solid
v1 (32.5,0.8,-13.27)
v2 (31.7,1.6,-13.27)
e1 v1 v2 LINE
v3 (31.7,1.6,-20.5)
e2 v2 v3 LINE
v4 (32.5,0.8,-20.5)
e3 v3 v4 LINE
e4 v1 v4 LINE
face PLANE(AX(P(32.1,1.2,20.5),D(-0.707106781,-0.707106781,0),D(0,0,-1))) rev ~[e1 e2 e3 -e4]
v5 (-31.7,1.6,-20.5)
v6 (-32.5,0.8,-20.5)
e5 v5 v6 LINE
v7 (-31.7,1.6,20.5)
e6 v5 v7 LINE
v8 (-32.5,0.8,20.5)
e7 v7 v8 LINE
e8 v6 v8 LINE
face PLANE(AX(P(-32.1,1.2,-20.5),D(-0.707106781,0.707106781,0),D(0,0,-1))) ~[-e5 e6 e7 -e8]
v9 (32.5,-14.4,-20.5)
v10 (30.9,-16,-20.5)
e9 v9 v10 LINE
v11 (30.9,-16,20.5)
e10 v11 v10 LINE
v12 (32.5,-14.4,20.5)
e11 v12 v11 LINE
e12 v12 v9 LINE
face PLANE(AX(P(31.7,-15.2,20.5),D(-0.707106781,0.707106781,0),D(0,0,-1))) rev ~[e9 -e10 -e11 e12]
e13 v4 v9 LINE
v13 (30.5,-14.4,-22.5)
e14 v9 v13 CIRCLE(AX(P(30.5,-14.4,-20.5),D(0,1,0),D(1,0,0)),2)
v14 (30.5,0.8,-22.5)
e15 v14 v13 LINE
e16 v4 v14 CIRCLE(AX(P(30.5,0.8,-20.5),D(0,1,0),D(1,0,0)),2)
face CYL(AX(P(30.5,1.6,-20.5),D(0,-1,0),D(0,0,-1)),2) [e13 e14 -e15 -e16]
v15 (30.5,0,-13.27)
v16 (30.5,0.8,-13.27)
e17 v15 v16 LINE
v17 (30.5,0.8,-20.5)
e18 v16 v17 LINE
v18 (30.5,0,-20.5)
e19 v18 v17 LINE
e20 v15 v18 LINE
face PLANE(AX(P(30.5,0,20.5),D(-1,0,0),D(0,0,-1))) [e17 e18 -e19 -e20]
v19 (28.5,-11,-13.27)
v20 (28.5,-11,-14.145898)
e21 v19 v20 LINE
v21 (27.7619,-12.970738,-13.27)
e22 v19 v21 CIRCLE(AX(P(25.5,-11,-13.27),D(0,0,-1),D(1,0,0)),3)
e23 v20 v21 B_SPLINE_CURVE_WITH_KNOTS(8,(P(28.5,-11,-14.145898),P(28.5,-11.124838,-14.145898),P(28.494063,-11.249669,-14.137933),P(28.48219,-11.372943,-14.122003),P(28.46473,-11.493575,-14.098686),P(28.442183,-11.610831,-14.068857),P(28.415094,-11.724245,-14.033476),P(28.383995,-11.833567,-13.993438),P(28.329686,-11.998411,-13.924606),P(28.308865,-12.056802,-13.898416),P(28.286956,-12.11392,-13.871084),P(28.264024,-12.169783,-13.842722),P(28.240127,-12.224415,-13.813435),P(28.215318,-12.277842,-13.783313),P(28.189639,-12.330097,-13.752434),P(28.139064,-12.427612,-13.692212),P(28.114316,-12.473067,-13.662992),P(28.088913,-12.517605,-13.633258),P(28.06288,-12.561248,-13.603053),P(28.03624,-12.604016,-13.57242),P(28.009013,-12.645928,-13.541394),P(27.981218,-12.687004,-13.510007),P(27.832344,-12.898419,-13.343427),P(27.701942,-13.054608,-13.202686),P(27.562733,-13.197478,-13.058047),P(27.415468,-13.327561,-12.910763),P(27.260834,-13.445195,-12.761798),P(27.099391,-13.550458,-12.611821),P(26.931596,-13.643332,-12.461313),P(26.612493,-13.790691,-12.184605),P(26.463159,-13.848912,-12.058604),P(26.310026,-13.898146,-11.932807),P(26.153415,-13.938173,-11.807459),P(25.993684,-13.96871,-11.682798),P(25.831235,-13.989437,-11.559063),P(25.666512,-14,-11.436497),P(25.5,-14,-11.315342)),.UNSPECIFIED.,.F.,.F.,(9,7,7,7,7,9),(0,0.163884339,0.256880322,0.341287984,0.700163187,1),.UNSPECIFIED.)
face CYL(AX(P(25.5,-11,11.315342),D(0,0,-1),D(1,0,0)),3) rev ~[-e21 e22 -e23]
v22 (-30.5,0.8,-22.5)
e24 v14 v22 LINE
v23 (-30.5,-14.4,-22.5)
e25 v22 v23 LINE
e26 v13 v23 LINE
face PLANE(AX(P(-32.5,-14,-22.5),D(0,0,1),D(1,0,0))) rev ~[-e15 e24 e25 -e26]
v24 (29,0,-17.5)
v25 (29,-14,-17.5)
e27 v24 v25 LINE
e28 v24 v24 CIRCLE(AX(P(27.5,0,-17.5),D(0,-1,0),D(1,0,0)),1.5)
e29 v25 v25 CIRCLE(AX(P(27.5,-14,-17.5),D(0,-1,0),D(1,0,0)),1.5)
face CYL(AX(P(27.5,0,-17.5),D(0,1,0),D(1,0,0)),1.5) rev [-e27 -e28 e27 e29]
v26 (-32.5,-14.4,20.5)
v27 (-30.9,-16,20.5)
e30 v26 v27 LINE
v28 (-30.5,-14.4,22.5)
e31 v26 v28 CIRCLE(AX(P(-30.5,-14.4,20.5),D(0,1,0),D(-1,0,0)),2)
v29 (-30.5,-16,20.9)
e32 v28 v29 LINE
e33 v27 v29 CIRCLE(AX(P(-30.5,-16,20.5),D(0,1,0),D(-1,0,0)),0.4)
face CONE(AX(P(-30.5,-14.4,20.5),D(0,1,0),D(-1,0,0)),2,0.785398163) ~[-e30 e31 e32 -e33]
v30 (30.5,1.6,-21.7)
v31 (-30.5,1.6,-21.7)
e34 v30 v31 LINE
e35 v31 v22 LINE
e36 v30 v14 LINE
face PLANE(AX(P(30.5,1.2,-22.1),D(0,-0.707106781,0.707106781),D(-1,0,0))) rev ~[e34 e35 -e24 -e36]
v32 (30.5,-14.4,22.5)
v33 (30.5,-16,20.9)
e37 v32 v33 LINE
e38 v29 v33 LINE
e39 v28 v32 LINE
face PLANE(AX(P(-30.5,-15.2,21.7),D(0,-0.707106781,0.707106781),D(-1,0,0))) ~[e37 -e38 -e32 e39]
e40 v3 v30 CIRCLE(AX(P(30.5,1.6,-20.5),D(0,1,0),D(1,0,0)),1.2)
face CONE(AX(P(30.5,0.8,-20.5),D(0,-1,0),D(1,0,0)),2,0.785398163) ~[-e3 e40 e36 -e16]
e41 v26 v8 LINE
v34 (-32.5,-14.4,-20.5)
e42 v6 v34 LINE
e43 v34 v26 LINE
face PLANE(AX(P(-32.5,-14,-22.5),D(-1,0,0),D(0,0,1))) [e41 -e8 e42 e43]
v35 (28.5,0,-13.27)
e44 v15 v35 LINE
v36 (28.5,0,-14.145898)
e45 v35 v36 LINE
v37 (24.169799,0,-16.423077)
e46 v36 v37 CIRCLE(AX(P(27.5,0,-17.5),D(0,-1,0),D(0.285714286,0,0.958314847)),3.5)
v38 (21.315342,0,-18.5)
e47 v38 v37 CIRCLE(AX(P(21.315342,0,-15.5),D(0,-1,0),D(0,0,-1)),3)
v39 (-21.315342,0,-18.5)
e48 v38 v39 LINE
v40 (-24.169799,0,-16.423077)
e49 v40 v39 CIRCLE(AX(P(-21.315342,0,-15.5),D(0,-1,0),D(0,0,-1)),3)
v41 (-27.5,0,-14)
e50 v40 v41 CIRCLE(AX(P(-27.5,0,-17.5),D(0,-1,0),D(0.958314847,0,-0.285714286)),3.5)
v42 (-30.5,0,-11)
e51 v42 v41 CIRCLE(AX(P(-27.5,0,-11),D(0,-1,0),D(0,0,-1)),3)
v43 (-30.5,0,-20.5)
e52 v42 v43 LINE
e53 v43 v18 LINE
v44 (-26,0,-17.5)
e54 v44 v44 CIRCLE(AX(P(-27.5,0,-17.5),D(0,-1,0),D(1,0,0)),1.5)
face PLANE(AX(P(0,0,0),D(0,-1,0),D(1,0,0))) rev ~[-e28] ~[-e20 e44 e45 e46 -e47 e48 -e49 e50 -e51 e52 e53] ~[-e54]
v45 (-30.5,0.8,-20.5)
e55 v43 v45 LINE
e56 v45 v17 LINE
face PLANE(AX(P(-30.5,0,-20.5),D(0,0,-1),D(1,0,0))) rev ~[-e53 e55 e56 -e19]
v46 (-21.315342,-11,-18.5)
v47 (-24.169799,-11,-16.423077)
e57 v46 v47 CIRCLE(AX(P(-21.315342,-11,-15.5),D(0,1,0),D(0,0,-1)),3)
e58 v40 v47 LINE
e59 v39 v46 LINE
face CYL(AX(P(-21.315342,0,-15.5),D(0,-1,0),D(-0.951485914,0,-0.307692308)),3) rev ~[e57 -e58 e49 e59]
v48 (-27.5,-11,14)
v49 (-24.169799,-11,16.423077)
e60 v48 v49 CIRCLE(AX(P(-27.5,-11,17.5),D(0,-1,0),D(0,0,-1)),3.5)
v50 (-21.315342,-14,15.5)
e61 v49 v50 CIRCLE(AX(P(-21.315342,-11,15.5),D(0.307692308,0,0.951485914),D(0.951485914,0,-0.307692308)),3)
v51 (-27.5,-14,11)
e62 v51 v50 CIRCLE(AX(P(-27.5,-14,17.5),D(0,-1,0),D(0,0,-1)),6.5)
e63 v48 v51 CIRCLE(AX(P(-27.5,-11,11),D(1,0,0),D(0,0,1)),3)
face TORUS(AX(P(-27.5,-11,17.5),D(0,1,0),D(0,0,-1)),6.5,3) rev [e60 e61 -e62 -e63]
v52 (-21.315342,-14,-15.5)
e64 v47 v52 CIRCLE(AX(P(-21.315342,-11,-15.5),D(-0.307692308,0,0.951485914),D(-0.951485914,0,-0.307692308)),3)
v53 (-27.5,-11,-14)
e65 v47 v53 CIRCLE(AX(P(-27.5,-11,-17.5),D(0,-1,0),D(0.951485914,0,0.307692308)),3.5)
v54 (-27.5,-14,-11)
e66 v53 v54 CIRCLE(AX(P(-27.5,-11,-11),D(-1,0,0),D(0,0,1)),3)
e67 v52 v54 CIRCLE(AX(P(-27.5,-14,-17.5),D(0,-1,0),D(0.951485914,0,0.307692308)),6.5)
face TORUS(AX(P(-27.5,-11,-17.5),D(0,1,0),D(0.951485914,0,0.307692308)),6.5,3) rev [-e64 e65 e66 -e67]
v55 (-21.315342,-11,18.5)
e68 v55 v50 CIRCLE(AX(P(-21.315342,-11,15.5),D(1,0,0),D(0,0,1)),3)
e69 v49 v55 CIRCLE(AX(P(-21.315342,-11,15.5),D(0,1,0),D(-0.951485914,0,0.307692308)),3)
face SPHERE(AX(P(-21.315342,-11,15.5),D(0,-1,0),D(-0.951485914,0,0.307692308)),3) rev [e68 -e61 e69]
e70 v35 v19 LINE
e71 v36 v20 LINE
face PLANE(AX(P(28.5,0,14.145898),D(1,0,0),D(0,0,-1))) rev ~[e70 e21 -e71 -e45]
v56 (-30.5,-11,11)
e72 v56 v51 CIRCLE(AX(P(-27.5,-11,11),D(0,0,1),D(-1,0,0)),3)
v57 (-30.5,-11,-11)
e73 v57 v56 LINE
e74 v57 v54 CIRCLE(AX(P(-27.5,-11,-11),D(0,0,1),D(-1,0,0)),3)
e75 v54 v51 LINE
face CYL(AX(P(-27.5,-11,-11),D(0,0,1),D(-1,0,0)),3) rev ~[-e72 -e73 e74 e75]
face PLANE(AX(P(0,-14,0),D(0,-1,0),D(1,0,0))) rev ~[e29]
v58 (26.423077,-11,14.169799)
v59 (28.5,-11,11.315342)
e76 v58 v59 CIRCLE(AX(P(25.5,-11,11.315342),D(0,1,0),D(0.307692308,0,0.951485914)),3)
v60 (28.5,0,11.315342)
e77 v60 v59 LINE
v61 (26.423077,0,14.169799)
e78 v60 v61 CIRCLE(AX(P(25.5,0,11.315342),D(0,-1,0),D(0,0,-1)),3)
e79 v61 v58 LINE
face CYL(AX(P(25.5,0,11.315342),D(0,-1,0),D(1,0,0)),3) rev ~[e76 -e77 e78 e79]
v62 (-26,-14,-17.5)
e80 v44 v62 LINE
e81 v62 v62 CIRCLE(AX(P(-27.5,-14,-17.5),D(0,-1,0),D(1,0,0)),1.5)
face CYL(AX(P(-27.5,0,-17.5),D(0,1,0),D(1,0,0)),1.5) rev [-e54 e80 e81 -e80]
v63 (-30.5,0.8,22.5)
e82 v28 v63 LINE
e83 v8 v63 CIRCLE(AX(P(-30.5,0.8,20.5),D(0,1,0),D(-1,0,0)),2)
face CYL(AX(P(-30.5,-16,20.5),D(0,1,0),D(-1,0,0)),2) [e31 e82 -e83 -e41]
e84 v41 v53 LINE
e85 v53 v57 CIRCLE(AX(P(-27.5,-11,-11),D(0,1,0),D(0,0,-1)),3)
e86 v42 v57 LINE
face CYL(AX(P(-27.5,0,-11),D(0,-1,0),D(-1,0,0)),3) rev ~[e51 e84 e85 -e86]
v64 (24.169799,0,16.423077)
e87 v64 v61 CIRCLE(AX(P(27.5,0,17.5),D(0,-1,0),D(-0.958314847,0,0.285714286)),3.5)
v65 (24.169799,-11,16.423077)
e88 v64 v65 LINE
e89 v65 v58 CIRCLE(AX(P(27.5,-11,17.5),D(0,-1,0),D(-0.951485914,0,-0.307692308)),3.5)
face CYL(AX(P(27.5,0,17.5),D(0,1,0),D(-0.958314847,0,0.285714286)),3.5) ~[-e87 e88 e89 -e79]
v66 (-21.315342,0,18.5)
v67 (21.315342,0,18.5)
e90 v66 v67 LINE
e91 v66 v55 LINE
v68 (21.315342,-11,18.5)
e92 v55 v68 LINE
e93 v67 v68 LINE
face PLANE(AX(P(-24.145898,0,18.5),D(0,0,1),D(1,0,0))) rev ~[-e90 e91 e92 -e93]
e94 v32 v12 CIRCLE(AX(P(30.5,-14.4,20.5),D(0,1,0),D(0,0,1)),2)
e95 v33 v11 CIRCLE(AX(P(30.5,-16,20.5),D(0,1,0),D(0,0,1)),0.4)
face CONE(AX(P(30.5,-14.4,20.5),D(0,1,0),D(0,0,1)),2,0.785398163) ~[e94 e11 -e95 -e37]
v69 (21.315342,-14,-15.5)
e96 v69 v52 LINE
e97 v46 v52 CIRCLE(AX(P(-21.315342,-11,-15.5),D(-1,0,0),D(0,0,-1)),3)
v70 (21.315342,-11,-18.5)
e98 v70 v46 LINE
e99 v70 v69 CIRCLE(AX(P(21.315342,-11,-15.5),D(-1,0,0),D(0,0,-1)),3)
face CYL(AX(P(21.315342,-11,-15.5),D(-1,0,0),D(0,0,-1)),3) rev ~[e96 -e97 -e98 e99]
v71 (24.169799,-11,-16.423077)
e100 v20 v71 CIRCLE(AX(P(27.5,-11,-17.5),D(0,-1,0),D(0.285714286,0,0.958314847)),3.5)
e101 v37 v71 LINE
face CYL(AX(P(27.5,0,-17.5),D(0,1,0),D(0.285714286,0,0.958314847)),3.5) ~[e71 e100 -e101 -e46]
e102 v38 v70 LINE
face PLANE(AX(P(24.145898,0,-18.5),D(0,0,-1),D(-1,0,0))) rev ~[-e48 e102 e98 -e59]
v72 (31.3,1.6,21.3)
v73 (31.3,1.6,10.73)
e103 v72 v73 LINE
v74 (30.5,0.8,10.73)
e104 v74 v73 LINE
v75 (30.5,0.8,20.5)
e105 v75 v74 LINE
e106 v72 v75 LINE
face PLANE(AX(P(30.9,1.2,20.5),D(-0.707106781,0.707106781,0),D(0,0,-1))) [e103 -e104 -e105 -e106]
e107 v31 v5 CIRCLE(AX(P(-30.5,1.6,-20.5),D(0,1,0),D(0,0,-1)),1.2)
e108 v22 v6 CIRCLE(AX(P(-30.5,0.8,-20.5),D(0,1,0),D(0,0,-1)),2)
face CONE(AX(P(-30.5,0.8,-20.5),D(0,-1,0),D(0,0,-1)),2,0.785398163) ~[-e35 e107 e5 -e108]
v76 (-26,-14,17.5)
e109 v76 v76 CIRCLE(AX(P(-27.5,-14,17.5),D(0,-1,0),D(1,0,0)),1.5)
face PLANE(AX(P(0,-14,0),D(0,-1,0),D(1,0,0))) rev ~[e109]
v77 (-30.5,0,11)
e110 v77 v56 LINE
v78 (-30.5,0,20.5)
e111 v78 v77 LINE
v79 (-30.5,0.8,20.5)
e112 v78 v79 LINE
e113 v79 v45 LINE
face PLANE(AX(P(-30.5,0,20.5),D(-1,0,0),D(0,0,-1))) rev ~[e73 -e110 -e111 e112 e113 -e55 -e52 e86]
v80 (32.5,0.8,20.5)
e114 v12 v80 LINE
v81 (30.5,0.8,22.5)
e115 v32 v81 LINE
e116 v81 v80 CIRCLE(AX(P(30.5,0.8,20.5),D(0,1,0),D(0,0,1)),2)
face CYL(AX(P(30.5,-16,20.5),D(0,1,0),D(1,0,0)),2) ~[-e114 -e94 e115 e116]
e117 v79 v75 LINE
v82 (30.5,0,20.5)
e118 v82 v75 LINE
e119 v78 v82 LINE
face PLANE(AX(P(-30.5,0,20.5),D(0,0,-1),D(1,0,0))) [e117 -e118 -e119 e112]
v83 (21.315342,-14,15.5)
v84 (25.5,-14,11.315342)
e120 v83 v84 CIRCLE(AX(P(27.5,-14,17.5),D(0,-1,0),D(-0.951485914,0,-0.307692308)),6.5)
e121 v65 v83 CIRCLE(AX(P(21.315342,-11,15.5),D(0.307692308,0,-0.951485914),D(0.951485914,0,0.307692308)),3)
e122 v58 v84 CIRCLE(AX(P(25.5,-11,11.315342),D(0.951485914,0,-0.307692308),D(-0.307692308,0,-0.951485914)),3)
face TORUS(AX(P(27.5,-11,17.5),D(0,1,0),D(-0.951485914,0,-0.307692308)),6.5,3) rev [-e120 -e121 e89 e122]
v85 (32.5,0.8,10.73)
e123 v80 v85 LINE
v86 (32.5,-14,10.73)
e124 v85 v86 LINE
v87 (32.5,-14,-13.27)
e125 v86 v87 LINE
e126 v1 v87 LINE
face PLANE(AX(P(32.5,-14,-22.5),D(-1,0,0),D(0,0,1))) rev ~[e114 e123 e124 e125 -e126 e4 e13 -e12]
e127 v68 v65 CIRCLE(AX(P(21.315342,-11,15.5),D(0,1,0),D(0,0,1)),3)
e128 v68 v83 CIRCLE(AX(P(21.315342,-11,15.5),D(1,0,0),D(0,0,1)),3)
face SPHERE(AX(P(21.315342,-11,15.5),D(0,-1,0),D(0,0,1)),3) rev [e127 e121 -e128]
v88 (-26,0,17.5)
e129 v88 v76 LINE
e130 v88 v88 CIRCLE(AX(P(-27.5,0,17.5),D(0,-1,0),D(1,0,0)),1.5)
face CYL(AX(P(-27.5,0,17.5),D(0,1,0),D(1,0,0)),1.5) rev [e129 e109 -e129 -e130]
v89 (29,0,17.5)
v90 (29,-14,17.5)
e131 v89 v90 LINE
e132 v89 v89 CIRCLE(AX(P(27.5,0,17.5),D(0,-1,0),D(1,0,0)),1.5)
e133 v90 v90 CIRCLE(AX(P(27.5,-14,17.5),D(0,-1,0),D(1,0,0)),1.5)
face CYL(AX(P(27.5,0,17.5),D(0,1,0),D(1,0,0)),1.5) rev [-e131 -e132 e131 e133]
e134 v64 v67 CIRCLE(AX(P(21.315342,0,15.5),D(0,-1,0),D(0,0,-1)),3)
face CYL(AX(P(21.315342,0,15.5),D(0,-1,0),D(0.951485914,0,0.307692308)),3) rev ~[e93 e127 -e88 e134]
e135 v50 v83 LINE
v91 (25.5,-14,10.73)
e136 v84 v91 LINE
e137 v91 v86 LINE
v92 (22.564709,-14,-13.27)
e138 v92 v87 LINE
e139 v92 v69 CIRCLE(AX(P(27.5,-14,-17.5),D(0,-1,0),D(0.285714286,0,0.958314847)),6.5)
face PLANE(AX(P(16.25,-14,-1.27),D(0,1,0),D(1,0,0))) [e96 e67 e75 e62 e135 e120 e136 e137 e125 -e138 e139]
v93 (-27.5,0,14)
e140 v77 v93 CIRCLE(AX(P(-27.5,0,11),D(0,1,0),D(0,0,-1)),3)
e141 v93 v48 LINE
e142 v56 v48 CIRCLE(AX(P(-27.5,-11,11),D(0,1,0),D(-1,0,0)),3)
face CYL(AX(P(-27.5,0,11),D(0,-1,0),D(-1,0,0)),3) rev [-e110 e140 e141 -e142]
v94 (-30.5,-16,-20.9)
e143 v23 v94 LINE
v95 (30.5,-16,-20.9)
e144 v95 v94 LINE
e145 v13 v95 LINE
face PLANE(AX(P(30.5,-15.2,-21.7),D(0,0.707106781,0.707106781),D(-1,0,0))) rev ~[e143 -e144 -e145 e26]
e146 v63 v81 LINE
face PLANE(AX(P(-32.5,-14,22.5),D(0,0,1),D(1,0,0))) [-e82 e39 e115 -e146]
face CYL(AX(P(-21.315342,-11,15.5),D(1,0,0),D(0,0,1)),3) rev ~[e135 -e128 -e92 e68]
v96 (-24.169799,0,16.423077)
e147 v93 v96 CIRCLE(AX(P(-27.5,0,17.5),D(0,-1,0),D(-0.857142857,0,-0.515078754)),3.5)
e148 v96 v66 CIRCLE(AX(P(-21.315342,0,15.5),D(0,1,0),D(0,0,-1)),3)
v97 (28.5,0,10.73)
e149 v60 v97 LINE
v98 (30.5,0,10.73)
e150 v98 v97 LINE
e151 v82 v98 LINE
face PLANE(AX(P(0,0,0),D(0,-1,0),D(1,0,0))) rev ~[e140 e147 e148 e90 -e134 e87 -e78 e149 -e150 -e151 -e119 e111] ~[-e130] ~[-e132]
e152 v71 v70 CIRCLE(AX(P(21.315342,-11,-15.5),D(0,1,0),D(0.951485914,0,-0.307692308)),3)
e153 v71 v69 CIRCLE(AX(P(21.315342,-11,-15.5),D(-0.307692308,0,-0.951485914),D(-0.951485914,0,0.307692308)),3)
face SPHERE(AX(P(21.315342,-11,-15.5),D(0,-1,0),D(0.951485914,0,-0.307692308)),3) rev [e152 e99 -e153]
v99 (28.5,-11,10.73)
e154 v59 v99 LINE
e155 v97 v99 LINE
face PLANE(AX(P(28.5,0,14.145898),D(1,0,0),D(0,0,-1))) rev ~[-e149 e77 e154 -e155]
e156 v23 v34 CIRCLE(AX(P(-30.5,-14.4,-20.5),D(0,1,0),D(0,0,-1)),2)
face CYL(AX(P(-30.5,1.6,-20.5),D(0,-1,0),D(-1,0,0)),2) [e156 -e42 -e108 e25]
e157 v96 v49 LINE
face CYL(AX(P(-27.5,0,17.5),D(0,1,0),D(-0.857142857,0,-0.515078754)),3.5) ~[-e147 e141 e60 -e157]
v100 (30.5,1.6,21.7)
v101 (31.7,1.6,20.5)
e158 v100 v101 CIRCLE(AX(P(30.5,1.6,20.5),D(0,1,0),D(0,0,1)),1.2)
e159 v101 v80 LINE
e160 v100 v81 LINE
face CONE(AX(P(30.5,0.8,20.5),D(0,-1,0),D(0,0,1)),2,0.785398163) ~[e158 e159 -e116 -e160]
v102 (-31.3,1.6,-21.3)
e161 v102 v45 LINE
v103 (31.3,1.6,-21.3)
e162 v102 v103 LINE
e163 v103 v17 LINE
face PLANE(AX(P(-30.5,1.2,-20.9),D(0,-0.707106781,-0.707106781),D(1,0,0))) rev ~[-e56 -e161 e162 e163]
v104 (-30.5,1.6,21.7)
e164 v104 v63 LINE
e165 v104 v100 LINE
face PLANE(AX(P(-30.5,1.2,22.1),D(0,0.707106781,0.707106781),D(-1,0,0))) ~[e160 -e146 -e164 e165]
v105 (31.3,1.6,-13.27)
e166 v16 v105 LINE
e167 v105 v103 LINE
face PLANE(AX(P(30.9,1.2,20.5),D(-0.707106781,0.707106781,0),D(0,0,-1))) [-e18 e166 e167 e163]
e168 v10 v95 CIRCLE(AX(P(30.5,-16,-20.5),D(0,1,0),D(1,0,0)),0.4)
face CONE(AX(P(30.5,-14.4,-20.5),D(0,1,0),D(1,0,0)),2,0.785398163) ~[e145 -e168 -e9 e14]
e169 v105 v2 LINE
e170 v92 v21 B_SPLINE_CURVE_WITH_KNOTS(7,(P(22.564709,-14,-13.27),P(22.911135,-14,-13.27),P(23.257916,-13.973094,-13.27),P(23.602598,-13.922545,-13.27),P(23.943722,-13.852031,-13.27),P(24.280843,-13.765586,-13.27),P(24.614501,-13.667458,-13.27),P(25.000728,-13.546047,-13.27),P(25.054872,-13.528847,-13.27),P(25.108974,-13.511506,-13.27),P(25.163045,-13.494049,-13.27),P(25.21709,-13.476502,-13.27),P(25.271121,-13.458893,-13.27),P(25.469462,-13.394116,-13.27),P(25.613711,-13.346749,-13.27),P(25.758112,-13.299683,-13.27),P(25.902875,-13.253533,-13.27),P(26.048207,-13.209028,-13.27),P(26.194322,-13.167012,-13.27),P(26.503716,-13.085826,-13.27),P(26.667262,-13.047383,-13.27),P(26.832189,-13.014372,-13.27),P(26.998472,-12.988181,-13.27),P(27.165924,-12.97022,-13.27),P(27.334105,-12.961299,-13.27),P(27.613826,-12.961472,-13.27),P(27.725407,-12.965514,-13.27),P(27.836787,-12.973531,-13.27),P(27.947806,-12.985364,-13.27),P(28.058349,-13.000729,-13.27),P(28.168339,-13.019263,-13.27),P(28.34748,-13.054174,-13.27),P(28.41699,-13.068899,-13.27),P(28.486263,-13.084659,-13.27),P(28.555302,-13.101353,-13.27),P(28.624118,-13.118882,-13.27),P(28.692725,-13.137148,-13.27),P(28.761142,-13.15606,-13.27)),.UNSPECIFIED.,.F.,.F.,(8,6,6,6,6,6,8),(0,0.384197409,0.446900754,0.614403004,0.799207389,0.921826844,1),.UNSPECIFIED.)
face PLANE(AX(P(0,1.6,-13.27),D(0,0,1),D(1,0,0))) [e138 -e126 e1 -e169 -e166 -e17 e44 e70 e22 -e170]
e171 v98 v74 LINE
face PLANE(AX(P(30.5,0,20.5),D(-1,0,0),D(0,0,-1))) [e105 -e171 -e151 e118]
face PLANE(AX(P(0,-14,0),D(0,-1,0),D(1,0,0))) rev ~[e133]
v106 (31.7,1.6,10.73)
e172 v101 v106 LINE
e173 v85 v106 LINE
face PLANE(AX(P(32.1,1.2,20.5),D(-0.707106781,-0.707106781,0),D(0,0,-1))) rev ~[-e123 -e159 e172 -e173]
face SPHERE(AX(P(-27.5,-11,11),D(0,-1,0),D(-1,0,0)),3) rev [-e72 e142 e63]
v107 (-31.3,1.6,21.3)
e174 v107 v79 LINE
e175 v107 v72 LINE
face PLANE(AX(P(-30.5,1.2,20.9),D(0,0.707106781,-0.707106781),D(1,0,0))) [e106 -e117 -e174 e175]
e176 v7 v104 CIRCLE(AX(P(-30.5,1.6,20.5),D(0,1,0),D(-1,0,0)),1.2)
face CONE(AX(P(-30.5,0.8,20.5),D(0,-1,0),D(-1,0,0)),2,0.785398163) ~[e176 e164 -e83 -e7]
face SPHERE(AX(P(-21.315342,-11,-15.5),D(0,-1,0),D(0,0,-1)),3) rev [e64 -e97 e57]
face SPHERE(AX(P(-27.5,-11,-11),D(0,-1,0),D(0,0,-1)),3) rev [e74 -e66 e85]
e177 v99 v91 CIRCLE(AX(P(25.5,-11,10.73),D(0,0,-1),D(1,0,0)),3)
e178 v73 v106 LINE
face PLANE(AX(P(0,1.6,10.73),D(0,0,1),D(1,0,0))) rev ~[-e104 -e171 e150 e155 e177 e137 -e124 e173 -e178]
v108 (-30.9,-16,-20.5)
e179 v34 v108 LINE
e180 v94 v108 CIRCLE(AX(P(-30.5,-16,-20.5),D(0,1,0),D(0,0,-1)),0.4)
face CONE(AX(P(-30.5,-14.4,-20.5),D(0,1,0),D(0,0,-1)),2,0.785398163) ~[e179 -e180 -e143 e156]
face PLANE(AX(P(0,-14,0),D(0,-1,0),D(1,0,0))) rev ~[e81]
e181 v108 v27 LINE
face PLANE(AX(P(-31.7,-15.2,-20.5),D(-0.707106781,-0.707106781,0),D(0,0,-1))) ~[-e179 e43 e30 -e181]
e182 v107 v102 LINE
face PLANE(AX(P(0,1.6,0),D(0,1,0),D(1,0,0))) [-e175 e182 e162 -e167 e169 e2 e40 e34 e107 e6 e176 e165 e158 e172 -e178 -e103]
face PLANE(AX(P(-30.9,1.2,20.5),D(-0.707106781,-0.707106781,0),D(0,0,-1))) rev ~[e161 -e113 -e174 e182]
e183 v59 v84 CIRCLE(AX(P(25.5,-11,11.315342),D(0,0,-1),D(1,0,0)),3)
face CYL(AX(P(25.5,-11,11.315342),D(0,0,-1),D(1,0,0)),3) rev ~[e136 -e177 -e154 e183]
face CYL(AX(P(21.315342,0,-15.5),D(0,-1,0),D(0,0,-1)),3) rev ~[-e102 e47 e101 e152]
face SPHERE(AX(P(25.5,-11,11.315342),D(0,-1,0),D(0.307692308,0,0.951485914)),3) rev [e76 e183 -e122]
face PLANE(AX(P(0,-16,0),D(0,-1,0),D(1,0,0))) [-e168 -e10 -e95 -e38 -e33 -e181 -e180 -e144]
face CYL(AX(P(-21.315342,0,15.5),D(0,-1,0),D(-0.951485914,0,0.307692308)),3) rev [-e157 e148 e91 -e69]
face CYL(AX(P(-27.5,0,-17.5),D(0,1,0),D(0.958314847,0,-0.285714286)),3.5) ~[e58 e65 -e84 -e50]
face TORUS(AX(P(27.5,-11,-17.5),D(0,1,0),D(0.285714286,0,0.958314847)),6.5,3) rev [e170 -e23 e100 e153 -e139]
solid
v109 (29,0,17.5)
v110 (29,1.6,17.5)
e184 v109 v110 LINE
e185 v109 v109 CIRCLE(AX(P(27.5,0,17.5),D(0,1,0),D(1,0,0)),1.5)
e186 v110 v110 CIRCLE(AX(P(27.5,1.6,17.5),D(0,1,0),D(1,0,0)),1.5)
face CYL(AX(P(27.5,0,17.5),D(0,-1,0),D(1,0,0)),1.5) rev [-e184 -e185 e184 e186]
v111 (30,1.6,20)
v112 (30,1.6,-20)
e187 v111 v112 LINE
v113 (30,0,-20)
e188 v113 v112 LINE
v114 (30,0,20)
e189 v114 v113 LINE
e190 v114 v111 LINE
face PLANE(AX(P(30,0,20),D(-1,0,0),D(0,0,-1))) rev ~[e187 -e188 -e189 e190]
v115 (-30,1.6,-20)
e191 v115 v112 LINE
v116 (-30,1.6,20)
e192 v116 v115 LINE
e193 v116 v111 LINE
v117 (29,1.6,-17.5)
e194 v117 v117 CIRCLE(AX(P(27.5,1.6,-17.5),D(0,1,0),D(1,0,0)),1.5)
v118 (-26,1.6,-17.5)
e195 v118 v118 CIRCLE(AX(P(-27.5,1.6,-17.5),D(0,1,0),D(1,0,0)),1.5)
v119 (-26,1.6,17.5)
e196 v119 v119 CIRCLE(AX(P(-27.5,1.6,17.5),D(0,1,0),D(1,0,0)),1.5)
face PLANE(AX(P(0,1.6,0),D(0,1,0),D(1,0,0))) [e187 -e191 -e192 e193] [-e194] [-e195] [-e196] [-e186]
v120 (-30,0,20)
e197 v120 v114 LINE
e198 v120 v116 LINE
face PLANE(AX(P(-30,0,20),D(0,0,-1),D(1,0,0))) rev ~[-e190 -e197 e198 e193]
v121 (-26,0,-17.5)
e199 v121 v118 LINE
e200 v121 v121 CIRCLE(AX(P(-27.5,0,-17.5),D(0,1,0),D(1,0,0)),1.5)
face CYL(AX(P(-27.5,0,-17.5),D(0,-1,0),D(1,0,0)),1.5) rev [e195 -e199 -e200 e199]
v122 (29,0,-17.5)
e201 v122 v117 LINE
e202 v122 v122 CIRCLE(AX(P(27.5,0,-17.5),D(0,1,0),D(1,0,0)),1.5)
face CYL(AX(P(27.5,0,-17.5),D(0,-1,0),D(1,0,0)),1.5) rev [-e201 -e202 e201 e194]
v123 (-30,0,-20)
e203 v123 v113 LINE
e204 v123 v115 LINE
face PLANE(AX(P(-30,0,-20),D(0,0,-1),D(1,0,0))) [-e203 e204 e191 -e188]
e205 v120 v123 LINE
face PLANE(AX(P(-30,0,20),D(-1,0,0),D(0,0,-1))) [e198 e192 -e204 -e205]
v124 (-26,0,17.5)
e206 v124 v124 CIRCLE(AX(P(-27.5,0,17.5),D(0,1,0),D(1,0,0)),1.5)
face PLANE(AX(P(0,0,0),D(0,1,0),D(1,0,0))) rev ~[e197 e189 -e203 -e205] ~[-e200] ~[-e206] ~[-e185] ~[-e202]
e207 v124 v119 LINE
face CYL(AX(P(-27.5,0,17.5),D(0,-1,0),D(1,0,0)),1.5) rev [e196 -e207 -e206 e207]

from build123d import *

# Parameters (mm, degrees)
SKETCH1_W           = 60
SKETCH1_H           = 40
SKETCH1_R           = 1.5
BOSS_EXTRUDE1_DEPTH = 1.6
SKETCH2_W           = 65
SKETCH2_H           = 45
SKETCH2_R           = 1.5
BOSS_EXTRUDE2_DEPTH = 14
SKETCH3_W           = 65
SKETCH3_H           = 45
SKETCH3_W_2         = 61
SKETCH3_H_2         = 41
BOSS_EXTRUDE3_DEPTH = 1.6
SKETCH4_W           = 65
SKETCH4_H           = 45
BOSS_EXTRUDE4_DEPTH = 2
FILLET3_R           = 2
FILLET1_R           = 3
FILLET2_R           = 3
CHAMFER1_SIZE       = 1.6
CHAMFER2_SIZE       = 0.8
SKETCH5_W           = 32.5
SKETCH5_H           = 24
CUT_EXTRUDE1_DEPTH  = 15.6


with BuildPart() as part:
    # Sketch1 → Boss-Extrude1 (new body)
    with BuildSketch(Plane(origin=(0, 0, 0), x_dir=(1, 0, 0), z_dir=(0, 1, 0))):
        Rectangle(SKETCH1_W, SKETCH1_H)
        with Locations((27.5, 17.5)):
            Circle(SKETCH1_R, mode=Mode.SUBTRACT)
        with Locations((-27.5, 17.5)):
            Circle(SKETCH1_R, mode=Mode.SUBTRACT)
        with Locations((-27.5, -17.5)):
            Circle(SKETCH1_R, mode=Mode.SUBTRACT)
        with Locations((27.5, -17.5)):
            Circle(SKETCH1_R, mode=Mode.SUBTRACT)
    extrude(amount=BOSS_EXTRUDE1_DEPTH)


with BuildPart() as body_2:
    # Sketch2 → Boss-Extrude2 (new body)
    with BuildSketch(Plane.XZ):
        Rectangle(SKETCH2_W, SKETCH2_H)
        with Locations((-27.5, 17.5)):
            Circle(SKETCH2_R, mode=Mode.SUBTRACT)
        with Locations((27.5, 17.5)):
            Circle(SKETCH2_R, mode=Mode.SUBTRACT)
        with Locations((27.5, -17.5)):
            Circle(SKETCH2_R, mode=Mode.SUBTRACT)
        with Locations((-27.5, -17.5)):
            Circle(SKETCH2_R, mode=Mode.SUBTRACT)
        with BuildLine():
            Line((-24.145898034, 18.5), (24.145898034, 18.5))
            ThreePointArc((24.145898034, 18.5), (25.025126266, 15.025126266), (28.5, 14.145898034))
            Line((28.5, 14.145898034), (28.5, -14.145898034))
            ThreePointArc((28.5, -14.145898034), (25.025126266, -15.025126266), (24.145898034, -18.5))
            Line((24.145898034, -18.5), (-24.145898034, -18.5))
            ThreePointArc((-24.145898034, -18.5), (-26.08747217, -14.297693779), (-30.5, -15.697224362))
            Line((-30.5, -15.697224362), (-30.5, 15.697224362))
            ThreePointArc((-30.5, 15.697224362), (-26.08747217, 14.297693779), (-24.145898034, 18.5))
        make_face(mode=Mode.SUBTRACT)
    extrude(amount=BOSS_EXTRUDE2_DEPTH)

    # Sketch3 → Boss-Extrude3 (add)
    with BuildSketch(Plane(origin=(0, 0, 0), x_dir=(1, 0, 0), z_dir=(0, 1, 0))):
        Rectangle(SKETCH3_W, SKETCH3_H)
        Rectangle(SKETCH3_W_2, SKETCH3_H_2, mode=Mode.SUBTRACT)
    extrude(amount=BOSS_EXTRUDE3_DEPTH)

    # Sketch4 → Boss-Extrude4 (add)
    with BuildSketch(Plane.XZ.offset(14)):
        Rectangle(SKETCH4_W, SKETCH4_H)
    extrude(amount=BOSS_EXTRUDE4_DEPTH)

    # Fillet3
    fillet3_edges = [body_2.edges().sort_by_distance(p)[0] for p in [
        (-32.5, -7.2, -22.5),
        (-32.5, -7.2, 22.5),
        (32.5, -7.2, 22.5),
        (32.5, -7.2, -22.5),
    ]]
    fillet(fillet3_edges, radius=FILLET3_R)

    # Fillet1
    fillet1_edges = [body_2.edges().sort_by_distance(p)[0] for p in [
        (-24.145898034, -7, 18.5),
        (-30.5, -7, 15.697224362),
        (-30.5, -7, -15.697224362),
        (-24.145898034, -7, -18.5),
        (24.145898034, -7, -18.5),
        (28.5, -7, 14.145898034),
        (24.145898034, -7, 18.5),
    ]]
    fillet(fillet1_edges, radius=FILLET1_R)

    # Fillet2
    fillet2_edges = [body_2.edges().sort_by_distance(p)[0] for p in [
        (0, -14, -18.5),
        (25.870937464, -14, -14.402233828),
        (-30.5, -14, 0),
        (-25.440780581, -14, 14.66987361),
        (0, -14, 18.5),
        (25.025126266, -14, 15.025126266),
        (-25.440780581, -14, -14.66987361),
        (-23.080386778, -14, -17.92582262),
        (-29.621320344, -14, -13.121320344),
        (-29.621320344, -14, 13.121320344),
        (-23.080386778, -14, 17.92582262),
        (23.080386778, -14, 17.92582262),
        (27.92582262, -14, 13.080386778),
        (23.080386778, -14, -17.92582262),
        (28.5, -14, -1.415278236),
    ]]
    fillet(fillet2_edges, radius=FILLET2_R)

    # Chamfer1
    chamfer1_edges = [body_2.edges().sort_by_distance(p)[0] for p in [
        (0, -16, 22.5),
        (32.5, -16, 0),
        (0, -16, -22.5),
        (-32.5, -16, 0),
        (-31.914213562, -16, -21.914213562),
        (31.914213562, -16, -21.914213562),
        (-31.914213562, -16, 21.914213562),
        (31.914213562, -16, 21.914213562),
    ]]
    chamfer(chamfer1_edges, length=CHAMFER1_SIZE)

    # Chamfer2
    chamfer2_edges = [body_2.edges().sort_by_distance(p)[0] for p in [
        (0, 1.6, 22.5),
        (0, 1.6, -22.5),
        (-32.5, 1.6, 0),
        (32.5, 1.6, 0),
        (-31.914213562, 1.6, -21.914213562),
        (31.914213562, 1.6, -21.914213562),
        (-31.914213562, 1.6, 21.914213562),
        (31.914213562, 1.6, 21.914213562),
        (0, 1.6, -20.5),
        (-30.5, 1.6, 0),
        (0, 1.6, 20.5),
        (30.5, 1.6, 0),
    ]]
    chamfer(chamfer2_edges, length=CHAMFER2_SIZE)

    # Sketch5 → Cut-Extrude1 (cut)
    with BuildSketch(Plane(origin=(0, 1.6, 0), x_dir=(1, 0, 0), z_dir=(0, 1, 0))):
        with Locations((16.25, 1.27)):
            Rectangle(SKETCH5_W, SKETCH5_H)
    extrude(amount=-CUT_EXTRUDE1_DEPTH, mode=Mode.SUBTRACT)


solid = Compound([part.part, body_2.part])
